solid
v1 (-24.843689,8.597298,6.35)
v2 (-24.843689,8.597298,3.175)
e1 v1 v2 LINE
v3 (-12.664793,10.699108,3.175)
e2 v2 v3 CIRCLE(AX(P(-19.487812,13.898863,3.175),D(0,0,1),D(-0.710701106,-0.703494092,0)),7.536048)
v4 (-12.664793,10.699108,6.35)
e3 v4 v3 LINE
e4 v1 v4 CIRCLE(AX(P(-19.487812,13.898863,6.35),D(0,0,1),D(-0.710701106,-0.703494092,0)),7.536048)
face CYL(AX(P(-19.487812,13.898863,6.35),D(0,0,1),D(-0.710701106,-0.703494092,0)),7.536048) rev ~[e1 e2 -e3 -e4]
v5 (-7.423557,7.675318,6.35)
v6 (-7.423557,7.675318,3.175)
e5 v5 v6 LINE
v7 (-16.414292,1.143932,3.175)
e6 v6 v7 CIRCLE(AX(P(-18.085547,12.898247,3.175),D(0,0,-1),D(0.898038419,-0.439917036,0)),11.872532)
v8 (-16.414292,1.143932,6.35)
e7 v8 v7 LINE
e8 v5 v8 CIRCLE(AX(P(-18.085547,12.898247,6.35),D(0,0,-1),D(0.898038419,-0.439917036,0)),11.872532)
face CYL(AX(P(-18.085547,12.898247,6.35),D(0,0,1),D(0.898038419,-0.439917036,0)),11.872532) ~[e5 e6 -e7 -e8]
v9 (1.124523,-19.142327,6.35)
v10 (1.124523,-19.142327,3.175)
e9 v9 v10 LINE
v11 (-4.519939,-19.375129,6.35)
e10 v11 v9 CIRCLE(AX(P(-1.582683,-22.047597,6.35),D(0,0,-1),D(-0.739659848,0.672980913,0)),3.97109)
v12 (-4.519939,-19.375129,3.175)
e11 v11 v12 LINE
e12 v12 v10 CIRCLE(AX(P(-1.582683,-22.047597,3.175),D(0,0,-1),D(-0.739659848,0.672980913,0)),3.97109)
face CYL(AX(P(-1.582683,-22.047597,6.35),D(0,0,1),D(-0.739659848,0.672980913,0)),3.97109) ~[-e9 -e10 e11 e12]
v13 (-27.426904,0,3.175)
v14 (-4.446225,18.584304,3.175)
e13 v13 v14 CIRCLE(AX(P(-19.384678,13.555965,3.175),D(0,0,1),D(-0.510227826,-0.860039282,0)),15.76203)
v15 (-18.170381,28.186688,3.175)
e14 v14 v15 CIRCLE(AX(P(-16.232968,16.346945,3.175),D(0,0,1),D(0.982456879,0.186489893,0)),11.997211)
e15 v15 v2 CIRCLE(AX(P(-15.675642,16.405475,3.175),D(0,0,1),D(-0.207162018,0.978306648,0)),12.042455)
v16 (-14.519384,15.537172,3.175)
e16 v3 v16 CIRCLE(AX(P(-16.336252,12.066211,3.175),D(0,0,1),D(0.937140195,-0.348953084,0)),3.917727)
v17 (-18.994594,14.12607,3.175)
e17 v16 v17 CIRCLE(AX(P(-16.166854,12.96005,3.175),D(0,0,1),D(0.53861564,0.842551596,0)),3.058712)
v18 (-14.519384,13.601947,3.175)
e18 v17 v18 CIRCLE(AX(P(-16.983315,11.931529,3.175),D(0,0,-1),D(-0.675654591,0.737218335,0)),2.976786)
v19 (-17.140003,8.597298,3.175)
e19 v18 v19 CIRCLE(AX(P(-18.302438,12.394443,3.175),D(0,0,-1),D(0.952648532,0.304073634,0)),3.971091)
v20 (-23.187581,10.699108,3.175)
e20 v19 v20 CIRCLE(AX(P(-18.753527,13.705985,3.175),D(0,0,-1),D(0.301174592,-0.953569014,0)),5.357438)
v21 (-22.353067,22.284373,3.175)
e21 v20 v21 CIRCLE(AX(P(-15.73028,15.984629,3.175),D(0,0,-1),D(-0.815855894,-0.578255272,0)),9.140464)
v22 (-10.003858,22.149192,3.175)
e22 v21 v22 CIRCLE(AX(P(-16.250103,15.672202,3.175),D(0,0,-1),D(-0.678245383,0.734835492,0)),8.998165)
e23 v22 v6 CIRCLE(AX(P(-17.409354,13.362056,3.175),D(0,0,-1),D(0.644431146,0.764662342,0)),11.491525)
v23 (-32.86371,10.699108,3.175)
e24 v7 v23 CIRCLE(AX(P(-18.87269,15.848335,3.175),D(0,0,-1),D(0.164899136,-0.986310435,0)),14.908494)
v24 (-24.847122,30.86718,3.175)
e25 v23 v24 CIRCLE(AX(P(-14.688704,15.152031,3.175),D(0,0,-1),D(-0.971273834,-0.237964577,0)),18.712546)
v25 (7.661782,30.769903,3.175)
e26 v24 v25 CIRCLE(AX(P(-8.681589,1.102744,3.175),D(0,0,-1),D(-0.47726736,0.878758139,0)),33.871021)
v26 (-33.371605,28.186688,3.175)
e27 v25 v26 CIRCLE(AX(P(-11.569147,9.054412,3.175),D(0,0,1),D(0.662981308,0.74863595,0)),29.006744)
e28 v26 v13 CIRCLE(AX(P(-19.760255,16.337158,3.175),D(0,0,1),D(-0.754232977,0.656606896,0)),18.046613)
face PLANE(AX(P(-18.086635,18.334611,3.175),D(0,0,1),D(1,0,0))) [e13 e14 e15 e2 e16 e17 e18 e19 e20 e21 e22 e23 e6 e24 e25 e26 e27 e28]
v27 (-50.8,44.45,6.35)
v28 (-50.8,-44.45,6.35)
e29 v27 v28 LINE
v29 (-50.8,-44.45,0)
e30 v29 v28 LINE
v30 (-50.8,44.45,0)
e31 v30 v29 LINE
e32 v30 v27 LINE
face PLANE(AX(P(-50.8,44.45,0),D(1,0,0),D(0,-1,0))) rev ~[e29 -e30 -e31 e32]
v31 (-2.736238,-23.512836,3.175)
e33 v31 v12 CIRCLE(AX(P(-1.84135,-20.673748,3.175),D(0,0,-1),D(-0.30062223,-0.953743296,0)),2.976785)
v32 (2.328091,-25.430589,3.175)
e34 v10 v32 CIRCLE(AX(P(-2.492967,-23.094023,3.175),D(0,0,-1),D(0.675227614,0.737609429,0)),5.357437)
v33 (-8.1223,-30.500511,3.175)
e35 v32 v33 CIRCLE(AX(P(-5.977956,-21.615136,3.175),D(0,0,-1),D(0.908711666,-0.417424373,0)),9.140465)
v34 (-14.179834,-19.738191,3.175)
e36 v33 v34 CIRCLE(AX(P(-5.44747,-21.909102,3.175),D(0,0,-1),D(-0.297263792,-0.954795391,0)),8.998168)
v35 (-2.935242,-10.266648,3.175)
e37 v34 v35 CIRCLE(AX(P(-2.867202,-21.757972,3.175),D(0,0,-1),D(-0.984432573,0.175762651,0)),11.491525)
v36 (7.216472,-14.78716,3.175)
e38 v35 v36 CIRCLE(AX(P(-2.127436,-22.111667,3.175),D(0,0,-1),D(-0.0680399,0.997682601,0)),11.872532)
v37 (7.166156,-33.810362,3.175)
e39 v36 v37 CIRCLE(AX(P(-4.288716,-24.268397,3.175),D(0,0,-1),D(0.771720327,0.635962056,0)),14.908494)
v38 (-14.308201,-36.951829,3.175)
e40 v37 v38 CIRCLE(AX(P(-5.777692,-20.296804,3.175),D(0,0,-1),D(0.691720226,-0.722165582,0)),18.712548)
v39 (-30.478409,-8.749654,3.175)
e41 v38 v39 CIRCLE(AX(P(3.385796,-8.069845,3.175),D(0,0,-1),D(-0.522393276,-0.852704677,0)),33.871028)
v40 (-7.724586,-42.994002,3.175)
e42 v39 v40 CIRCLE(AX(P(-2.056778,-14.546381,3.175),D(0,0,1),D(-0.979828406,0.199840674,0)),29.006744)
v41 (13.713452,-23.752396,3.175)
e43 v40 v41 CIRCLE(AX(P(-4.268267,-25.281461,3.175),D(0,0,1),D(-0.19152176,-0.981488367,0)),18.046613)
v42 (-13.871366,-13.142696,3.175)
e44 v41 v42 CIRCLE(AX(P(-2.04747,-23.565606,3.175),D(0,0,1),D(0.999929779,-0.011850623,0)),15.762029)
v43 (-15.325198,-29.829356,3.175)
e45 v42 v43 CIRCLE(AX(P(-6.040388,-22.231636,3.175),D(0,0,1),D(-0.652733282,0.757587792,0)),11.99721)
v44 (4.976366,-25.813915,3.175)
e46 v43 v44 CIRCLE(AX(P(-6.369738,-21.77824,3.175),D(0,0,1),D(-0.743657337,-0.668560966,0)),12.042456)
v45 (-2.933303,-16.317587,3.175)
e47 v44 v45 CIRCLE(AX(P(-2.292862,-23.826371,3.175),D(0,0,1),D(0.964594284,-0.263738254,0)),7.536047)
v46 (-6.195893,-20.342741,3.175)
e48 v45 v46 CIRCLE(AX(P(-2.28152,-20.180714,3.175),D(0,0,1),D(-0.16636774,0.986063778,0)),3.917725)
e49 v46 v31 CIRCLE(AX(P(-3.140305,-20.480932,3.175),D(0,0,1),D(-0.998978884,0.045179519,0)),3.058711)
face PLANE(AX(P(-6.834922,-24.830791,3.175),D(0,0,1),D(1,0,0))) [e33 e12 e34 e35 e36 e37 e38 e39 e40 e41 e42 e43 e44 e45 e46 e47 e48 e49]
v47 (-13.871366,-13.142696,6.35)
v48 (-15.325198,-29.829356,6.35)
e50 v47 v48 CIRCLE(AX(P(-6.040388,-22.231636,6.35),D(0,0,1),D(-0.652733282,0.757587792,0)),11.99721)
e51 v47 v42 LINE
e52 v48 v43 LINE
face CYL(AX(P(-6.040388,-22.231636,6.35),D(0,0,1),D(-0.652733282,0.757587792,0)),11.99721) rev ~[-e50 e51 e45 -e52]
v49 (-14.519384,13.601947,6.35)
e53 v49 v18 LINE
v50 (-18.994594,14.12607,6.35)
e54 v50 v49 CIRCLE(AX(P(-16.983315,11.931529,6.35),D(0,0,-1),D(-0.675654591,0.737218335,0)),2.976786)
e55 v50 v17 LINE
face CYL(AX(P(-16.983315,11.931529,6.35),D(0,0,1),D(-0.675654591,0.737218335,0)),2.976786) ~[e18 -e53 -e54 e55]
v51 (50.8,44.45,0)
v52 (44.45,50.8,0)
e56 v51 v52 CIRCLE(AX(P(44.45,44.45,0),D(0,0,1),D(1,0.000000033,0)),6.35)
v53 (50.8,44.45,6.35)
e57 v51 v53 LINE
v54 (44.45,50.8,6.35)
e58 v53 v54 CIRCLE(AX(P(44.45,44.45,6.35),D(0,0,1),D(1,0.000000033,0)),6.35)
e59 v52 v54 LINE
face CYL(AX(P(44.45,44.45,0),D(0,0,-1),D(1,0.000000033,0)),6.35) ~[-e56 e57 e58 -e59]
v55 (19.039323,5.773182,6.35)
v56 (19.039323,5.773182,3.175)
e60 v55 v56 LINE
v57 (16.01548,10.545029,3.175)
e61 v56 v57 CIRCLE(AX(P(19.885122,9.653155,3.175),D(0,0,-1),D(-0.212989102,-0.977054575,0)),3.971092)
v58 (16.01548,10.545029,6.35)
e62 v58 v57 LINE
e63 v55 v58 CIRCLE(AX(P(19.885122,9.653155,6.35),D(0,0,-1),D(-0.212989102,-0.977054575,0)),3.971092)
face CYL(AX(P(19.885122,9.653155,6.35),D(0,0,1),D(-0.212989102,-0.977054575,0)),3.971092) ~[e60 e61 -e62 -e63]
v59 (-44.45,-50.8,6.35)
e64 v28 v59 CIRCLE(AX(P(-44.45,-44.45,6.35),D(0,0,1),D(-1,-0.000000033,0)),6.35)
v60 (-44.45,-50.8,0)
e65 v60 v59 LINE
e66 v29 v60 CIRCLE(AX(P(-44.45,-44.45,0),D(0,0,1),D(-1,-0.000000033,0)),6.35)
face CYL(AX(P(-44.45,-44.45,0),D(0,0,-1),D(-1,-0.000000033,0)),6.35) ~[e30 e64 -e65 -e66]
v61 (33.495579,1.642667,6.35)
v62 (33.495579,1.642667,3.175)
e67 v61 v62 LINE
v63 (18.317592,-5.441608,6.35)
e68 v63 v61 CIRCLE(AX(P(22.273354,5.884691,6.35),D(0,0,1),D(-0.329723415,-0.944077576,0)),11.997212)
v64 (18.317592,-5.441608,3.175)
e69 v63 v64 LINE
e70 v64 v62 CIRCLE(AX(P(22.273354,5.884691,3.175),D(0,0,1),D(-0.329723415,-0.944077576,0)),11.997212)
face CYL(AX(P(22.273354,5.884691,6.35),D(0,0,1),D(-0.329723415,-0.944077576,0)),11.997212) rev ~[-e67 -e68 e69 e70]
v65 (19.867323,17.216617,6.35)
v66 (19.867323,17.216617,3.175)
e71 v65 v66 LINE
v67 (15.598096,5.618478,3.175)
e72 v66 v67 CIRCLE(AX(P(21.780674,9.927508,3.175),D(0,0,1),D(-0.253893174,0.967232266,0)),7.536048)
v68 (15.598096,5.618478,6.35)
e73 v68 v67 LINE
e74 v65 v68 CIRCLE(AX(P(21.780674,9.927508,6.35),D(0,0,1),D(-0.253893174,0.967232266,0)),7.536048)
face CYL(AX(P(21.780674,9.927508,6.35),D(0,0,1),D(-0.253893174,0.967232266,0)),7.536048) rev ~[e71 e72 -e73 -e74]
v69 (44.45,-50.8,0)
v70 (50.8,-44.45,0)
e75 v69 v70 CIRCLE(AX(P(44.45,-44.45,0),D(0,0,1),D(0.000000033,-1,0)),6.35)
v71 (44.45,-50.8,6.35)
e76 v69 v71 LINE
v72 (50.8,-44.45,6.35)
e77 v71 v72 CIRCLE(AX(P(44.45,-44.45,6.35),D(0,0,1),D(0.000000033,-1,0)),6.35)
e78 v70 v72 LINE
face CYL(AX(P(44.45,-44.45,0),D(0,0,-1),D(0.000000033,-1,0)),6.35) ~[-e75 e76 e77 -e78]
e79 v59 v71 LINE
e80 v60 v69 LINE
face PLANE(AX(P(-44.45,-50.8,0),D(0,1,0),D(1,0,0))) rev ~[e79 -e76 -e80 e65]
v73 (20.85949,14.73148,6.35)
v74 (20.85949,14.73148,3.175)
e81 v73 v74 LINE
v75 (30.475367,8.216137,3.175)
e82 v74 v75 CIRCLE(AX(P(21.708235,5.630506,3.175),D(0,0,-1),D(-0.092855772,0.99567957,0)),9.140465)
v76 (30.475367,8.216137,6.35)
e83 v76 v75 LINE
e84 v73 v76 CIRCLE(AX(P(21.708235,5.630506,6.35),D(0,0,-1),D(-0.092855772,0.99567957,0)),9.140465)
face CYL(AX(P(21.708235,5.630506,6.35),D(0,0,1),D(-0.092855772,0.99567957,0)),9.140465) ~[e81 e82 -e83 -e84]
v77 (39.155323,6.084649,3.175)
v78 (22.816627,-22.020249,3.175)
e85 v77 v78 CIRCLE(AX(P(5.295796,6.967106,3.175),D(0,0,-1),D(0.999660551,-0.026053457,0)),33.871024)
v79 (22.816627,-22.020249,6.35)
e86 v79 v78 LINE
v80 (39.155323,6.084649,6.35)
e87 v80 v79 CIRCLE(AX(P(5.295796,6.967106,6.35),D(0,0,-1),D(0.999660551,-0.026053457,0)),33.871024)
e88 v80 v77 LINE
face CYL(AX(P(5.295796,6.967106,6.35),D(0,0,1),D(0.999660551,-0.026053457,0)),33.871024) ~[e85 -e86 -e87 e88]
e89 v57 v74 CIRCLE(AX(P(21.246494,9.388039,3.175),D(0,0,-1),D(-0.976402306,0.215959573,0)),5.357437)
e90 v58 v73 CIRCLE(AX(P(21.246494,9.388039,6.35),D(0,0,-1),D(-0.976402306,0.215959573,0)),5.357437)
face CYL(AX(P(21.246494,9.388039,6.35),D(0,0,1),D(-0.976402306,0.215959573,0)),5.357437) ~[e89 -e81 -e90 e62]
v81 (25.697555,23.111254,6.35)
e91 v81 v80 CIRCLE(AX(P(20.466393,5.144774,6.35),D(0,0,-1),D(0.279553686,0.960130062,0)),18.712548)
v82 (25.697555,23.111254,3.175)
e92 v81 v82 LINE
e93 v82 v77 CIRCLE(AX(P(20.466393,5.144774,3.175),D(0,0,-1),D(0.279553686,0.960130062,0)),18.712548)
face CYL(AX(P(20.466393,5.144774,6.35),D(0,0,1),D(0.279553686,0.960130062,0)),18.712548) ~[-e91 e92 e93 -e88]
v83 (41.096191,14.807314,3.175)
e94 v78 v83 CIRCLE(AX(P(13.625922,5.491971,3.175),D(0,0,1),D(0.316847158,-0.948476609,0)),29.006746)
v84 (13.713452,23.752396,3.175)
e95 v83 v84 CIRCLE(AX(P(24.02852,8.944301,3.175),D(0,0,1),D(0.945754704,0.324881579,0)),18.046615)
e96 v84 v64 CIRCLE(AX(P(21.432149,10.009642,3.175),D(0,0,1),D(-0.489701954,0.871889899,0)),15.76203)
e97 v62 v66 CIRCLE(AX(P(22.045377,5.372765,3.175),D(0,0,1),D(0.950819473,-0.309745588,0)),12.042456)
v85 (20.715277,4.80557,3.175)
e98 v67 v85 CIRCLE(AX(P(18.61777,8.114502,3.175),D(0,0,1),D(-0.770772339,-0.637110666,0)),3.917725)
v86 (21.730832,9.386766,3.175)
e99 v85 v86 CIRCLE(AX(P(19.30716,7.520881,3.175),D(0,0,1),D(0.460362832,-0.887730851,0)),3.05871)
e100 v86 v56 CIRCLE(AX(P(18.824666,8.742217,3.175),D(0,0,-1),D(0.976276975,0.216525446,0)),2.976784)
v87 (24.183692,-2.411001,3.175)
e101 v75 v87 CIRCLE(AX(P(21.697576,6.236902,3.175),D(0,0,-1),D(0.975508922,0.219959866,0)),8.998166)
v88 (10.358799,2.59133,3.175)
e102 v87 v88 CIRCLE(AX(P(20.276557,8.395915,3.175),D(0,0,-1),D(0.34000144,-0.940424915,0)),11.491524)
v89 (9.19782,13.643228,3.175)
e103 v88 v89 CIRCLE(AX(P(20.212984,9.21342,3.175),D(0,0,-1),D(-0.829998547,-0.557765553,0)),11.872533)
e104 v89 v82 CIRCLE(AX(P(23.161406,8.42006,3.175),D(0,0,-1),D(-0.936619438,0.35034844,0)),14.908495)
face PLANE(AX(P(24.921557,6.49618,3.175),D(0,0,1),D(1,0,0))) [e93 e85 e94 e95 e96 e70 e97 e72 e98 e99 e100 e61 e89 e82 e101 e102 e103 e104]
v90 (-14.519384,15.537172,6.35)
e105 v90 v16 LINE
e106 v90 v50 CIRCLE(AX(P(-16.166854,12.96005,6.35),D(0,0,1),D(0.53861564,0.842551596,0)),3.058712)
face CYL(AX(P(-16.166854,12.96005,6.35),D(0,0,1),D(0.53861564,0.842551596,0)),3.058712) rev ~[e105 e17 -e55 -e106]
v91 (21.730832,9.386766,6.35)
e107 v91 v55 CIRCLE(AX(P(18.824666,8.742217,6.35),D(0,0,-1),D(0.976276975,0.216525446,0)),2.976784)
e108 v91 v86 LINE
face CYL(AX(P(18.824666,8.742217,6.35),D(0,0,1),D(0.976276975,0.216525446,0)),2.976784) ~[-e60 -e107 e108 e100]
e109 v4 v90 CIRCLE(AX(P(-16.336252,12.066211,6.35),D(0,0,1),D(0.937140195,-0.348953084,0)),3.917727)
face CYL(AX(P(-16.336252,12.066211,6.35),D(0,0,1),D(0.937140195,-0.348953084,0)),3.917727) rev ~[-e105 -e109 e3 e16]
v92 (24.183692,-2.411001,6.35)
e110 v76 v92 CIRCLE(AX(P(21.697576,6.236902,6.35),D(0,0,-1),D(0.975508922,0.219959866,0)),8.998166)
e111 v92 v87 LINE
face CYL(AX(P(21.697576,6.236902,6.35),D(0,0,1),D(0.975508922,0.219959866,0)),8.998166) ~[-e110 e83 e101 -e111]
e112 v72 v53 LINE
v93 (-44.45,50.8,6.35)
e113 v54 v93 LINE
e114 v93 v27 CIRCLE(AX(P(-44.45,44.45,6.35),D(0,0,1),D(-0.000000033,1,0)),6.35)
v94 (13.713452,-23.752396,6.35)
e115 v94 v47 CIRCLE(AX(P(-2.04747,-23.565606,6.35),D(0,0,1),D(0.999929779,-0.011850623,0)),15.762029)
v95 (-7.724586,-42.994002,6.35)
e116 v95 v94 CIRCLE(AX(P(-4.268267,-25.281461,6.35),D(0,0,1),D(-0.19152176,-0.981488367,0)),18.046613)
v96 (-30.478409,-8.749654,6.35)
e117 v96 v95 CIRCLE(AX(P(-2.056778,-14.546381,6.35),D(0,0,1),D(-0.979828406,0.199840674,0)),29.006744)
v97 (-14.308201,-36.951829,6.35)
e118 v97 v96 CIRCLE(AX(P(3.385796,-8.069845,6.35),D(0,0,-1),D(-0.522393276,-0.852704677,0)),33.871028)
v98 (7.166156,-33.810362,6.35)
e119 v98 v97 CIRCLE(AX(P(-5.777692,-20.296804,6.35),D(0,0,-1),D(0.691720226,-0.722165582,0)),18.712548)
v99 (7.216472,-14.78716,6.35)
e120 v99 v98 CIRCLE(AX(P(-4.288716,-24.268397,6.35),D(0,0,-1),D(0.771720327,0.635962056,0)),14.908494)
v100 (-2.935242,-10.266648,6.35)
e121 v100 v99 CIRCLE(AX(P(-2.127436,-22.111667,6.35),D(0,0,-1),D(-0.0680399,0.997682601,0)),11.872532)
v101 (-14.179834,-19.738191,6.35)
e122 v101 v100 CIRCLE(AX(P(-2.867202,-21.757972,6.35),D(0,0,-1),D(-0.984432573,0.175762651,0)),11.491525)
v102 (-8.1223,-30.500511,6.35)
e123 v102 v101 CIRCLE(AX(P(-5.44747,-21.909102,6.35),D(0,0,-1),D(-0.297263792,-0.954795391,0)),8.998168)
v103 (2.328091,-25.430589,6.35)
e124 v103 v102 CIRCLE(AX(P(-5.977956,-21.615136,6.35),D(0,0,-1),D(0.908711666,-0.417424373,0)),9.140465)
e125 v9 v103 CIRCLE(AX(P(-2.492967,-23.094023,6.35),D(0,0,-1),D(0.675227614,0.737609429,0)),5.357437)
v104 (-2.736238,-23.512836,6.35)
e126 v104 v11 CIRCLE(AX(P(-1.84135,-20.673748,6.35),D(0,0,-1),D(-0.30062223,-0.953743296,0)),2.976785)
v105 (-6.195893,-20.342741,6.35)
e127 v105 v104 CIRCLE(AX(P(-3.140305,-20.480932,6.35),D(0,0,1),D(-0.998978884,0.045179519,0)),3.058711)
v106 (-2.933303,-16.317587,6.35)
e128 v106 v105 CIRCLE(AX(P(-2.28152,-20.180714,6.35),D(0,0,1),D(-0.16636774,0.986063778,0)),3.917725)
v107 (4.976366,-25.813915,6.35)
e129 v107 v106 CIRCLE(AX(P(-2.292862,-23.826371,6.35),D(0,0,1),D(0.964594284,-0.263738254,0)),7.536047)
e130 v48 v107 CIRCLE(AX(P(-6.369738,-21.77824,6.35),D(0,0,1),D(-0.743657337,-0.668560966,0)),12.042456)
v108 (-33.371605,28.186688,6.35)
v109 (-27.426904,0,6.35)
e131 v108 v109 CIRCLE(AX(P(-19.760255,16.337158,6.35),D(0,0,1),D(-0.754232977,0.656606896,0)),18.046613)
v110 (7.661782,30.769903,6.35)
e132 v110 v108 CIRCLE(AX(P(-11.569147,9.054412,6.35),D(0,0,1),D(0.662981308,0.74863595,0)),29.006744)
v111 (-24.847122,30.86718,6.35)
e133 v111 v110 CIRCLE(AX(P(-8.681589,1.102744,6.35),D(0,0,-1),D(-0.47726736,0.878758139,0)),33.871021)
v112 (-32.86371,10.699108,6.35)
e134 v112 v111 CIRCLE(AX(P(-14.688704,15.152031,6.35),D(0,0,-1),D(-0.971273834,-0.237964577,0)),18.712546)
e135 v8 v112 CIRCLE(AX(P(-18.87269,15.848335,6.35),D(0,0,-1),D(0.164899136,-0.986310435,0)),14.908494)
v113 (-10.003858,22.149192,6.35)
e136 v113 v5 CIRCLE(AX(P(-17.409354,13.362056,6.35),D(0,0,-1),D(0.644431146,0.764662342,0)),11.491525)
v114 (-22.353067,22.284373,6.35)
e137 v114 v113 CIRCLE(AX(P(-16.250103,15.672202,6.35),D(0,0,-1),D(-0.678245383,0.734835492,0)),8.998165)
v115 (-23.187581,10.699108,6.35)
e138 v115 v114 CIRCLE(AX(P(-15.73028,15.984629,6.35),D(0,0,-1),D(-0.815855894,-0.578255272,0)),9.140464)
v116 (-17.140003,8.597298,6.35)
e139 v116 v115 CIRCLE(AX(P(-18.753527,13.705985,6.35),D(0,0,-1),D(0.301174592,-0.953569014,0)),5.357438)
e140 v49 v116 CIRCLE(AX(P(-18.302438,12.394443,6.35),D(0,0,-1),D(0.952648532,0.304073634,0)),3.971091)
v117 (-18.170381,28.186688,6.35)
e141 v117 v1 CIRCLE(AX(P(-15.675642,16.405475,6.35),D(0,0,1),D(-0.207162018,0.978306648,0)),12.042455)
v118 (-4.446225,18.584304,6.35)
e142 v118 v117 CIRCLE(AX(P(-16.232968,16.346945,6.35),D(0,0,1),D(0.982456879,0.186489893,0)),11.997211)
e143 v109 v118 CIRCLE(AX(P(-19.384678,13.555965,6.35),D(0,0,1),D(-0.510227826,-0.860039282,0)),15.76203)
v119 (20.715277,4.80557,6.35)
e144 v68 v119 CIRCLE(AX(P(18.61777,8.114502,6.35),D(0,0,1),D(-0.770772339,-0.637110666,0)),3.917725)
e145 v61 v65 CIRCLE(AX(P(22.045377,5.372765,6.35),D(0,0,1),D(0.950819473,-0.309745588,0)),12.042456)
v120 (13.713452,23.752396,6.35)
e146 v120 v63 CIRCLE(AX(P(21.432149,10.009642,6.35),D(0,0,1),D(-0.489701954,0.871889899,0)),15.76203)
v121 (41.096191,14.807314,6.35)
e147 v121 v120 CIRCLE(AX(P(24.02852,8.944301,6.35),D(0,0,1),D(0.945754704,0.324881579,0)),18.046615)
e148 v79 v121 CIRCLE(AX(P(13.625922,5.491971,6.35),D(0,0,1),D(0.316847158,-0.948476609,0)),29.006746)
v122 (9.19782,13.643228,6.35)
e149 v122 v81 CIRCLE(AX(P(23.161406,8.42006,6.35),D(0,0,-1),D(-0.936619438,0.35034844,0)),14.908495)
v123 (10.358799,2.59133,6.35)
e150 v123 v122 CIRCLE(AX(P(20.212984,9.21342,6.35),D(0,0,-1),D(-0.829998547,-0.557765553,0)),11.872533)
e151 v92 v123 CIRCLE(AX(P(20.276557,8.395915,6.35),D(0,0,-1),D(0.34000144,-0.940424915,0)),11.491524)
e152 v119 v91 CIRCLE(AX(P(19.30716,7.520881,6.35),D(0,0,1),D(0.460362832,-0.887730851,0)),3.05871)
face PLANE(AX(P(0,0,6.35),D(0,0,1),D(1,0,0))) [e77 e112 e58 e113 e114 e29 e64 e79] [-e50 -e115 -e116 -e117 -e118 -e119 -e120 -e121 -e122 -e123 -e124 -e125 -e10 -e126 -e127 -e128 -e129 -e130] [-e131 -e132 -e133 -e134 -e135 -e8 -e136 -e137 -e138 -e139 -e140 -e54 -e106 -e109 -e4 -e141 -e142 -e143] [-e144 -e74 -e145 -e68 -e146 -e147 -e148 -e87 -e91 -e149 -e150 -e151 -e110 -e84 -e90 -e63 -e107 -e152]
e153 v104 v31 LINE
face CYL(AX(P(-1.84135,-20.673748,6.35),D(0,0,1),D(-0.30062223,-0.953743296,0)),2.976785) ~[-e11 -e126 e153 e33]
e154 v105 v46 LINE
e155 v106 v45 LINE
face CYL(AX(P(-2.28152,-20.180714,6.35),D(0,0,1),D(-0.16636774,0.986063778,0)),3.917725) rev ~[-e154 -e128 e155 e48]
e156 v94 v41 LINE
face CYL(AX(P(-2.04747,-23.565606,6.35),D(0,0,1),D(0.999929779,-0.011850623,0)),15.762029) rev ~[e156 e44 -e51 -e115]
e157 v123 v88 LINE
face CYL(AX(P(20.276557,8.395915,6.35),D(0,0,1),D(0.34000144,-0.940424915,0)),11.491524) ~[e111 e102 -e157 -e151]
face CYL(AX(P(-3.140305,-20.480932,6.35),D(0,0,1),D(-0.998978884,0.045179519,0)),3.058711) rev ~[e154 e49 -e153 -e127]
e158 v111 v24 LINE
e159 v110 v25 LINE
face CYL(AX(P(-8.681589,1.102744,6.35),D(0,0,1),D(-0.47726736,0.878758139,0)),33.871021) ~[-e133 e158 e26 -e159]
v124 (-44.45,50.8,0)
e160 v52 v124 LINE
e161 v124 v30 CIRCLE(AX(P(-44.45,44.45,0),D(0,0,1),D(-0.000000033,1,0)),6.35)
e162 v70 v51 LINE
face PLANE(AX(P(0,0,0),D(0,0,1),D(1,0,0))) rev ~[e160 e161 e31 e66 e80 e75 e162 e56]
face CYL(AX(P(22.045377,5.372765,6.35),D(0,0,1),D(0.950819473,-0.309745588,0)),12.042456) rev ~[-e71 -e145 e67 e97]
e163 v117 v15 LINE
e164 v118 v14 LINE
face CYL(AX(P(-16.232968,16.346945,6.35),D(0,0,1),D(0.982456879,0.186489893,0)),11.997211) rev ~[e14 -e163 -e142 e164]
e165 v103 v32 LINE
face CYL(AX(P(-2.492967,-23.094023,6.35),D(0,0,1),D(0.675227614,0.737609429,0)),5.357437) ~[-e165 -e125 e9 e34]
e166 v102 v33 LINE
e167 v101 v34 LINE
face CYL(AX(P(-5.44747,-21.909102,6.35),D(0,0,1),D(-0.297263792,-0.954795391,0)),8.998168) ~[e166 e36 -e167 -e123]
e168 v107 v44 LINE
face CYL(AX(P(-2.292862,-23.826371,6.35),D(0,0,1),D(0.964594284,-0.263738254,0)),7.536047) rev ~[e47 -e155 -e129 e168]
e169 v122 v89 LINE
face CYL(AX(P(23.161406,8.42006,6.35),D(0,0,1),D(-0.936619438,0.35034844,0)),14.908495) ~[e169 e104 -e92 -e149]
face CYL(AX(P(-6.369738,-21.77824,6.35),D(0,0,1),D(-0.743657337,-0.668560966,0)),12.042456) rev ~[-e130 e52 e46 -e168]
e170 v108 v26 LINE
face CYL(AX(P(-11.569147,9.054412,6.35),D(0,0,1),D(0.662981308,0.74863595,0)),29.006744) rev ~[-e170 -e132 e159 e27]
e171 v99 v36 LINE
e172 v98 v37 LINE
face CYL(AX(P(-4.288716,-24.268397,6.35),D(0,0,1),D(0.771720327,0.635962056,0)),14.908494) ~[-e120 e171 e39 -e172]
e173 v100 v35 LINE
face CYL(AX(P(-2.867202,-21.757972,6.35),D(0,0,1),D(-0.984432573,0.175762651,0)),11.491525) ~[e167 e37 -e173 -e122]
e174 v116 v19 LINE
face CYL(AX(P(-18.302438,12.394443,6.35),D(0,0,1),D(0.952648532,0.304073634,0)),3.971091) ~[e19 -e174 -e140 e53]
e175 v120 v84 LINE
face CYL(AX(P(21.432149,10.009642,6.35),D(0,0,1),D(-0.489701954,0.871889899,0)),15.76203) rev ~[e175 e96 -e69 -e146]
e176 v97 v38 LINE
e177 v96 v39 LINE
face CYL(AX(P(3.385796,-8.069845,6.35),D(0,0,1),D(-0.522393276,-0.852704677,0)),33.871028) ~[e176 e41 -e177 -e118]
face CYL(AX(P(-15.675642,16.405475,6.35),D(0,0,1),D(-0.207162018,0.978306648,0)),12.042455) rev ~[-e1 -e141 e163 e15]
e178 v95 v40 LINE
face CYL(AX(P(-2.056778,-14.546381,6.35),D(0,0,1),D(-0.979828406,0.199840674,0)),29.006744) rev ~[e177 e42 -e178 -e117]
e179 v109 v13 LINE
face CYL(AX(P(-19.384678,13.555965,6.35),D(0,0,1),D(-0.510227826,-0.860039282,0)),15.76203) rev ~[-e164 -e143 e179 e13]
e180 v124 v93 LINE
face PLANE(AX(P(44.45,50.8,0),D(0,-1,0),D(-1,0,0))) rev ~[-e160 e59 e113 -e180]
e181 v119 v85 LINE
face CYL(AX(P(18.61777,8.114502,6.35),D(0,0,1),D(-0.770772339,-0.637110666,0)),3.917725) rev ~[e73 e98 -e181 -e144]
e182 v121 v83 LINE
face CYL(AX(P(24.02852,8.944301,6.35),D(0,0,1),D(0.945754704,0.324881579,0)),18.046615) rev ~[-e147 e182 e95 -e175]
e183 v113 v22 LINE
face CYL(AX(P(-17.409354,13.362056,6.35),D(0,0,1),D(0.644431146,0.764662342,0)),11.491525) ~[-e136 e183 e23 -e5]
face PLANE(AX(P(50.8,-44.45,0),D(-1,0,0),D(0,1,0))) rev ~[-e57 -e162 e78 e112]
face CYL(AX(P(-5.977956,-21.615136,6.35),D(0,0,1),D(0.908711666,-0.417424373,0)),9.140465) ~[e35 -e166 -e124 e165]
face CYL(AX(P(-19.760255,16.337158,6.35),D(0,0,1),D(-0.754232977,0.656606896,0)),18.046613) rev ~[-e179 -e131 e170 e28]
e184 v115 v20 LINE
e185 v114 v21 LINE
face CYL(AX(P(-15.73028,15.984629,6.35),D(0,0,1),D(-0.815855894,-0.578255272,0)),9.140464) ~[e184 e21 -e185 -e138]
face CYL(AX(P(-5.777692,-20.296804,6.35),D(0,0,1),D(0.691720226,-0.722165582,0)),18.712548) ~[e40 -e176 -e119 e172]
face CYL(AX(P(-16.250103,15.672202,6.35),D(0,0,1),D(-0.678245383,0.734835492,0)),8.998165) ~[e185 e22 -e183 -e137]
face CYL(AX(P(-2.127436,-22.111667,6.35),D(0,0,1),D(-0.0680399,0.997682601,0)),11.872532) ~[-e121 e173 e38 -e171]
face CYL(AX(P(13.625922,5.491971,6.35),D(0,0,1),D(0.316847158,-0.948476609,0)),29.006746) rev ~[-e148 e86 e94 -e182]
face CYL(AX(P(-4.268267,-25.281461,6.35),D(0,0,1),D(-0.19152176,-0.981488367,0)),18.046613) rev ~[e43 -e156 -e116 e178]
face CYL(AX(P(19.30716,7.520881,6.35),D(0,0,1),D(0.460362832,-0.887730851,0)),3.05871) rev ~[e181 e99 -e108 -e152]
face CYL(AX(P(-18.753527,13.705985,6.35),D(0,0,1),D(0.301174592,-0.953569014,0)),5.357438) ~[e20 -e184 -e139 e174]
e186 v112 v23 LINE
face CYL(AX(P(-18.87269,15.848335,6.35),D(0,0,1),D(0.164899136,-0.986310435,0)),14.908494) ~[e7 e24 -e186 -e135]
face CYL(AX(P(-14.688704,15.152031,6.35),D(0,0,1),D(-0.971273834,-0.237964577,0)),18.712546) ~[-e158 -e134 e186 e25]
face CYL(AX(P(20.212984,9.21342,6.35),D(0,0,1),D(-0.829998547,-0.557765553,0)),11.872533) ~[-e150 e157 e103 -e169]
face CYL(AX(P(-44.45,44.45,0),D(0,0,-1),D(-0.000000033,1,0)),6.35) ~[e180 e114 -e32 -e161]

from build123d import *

# Parameters (mm, degrees)
F1_DEPTH = 6.35
F3_DEPTH = 3.175


with BuildPart() as f1:
    # F0 (on Top) → F1 (new body)
    with BuildSketch(Plane.XY):
        with BuildLine():
            Line((44.45, 50.8), (-44.45, 50.8))
            ThreePointArc((-44.45, 50.8), (-48.940128, 48.940128), (-50.8, 44.45))
            Line((-50.8, 44.45), (-50.8, -44.45))
            ThreePointArc((-50.8, -44.45), (-48.940128, -48.940128), (-44.45, -50.8))
            Line((-44.45, -50.8), (44.45, -50.8))
            ThreePointArc((44.45, -50.8), (48.940128, -48.940128), (50.8, -44.45))
            Line((50.8, -44.45), (50.8, 44.45))
            ThreePointArc((50.8, 44.45), (48.940128, 48.940128), (44.45, 50.8))
        make_face()
    extrude(amount=F1_DEPTH)

    # F2 (on face) → F3 (cut)
    with BuildSketch(Plane.XY.offset(6.35)):
        with BuildLine():
            ThreePointArc((-24.847122, 30.86718), (-8.580237, 34.973614), (7.661782, 30.769903))
            ThreePointArc((7.661782, 30.769903), (-13.391629, 38.003846), (-33.371605, 28.186688))
            ThreePointArc((-33.371605, 28.186688), (-37.418416, 12.612971), (-27.426904, 0))
            ThreePointArc((-27.426904, 0), (-9.473393, 1.300027), (-4.446225, 18.584304))
            ThreePointArc((-4.446225, 18.584304), (-9.355194, 26.176966), (-18.170381, 28.186688))
            ThreePointArc((-18.170381, 28.186688), (-27.074817, 20.28871), (-24.843689, 8.597298))
            ThreePointArc((-24.843689, 8.597298), (-18.2062, 6.472593), (-12.664793, 10.699108))
            ThreePointArc((-12.664793, 10.699108), (-12.67809, 13.468506), (-14.519384, 15.537172))
            ThreePointArc((-14.519384, 15.537172), (-17.08667, 15.877181), (-18.994594, 14.12607))
            ThreePointArc((-18.994594, 14.12607), (-16.63705, 14.888107), (-14.519384, 13.601947))
            ThreePointArc((-14.519384, 13.601947), (-14.784471, 10.552305), (-17.140003, 8.597298))
            ThreePointArc((-17.140003, 8.597298), (-20.512291, 8.645462), (-23.187581, 10.699108))
            ThreePointArc((-23.187581, 10.699108), (-24.847122, 16.641338), (-22.353067, 22.284373))
            ThreePointArc((-22.353067, 22.284373), (-16.15161, 24.669828), (-10.003858, 22.149192))
            ThreePointArc((-10.003858, 22.149192), (-6.096197, 15.378887), (-7.423557, 7.675318))
            ThreePointArc((-7.423557, 7.675318), (-11.107583, 3.292778), (-16.414292, 1.143932))
            ThreePointArc((-16.414292, 1.143932), (-26.36106, 2.956962), (-32.86371, 10.699108))
            ThreePointArc((-32.86371, 10.699108), (-32.077882, 22.064039), (-24.847122, 30.86718))
        make_face()
        with BuildLine():
            ThreePointArc((-14.179834, -19.738191), (-10.270408, -12.968905), (-2.935242, -10.266648))
            ThreePointArc((-2.935242, -10.266648), (2.702162, -11.265838), (7.216472, -14.78716))
            ThreePointArc((7.216472, -14.78716), (10.619726, -24.307829), (7.166156, -33.810362))
            ThreePointArc((7.166156, -33.810362), (-3.069077, -38.81228), (-14.308201, -36.951829))
            ThreePointArc((-14.308201, -36.951829), (-25.997919, -24.91751), (-30.478409, -8.749654))
            ThreePointArc((-30.478409, -8.749654), (-26.216482, -30.599414), (-7.724586, -42.994002))
            ThreePointArc((-7.724586, -42.994002), (7.786055, -38.711784), (13.713452, -23.752396))
            ThreePointArc((13.713452, -23.752396), (3.61084, -8.854213), (-13.871366, -13.142696))
            ThreePointArc((-13.871366, -13.142696), (-17.992321, -21.190319), (-15.325198, -29.829356))
            ThreePointArc((-15.325198, -29.829356), (-4.033129, -33.591834), (4.976366, -25.813915))
            ThreePointArc((4.976366, -25.813915), (3.49767, -19.003328), (-2.933303, -16.317587))
            ThreePointArc((-2.933303, -16.317587), (-5.325023, -17.713801), (-6.195893, -20.342741))
            ThreePointArc((-6.195893, -20.342741), (-5.206707, -22.736081), (-2.736238, -23.512836))
            ThreePointArc((-2.736238, -23.512836), (-4.574954, -21.852161), (-4.519939, -19.375129))
            ThreePointArc((-4.519939, -19.375129), (-1.746329, -18.07988), (1.124523, -19.142327))
            ThreePointArc((1.124523, -19.142327), (2.768956, -22.086896), (2.328091, -25.430589))
            ThreePointArc((2.328091, -25.430589), (-1.98826, -29.838908), (-8.1223, -30.500511))
            ThreePointArc((-8.1223, -30.500511), (-13.288892, -26.322619), (-14.179834, -19.738191))
        make_face()
        with BuildLine():
            ThreePointArc((24.183692, -2.411001), (16.366605, -2.409982), (10.358799, 2.59133))
            ThreePointArc((10.358799, 2.59133), (8.405421, 7.97306), (9.19782, 13.643228))
            ThreePointArc((9.19782, 13.643228), (15.741335, 21.350867), (25.697555, 23.111254))
            ThreePointArc((25.697555, 23.111254), (35.146959, 16.748241), (39.155323, 6.084649))
            ThreePointArc((39.155323, 6.084649), (34.578156, -10.056104), (22.816627, -22.020249))
            ThreePointArc((22.816627, -22.020249), (39.60811, -7.404432), (41.096191, 14.807314))
            ThreePointArc((41.096191, 14.807314), (29.632361, 26.098813), (13.713452, 23.752396))
            ThreePointArc((13.713452, 23.752396), (5.862553, 7.554185), (18.317592, -5.441608))
            ThreePointArc((18.317592, -5.441608), (27.347515, -4.986647), (33.495579, 1.642667))
            ThreePointArc((33.495579, 1.642667), (31.107946, 13.303124), (19.867323, 17.216617))
            ThreePointArc((19.867323, 17.216617), (14.70853, 12.530736), (15.598096, 5.618478))
            ThreePointArc((15.598096, 5.618478), (18.003113, 4.245295), (20.715277, 4.80557))
            ThreePointArc((20.715277, 4.80557), (22.293377, 6.8589), (21.730832, 9.386766))
            ThreePointArc((21.730832, 9.386766), (21.212004, 6.964054), (19.039323, 5.773182))
            ThreePointArc((19.039323, 5.773182), (16.5308, 7.527575), (16.01548, 10.545029))
            ThreePointArc((16.01548, 10.545029), (17.743335, 13.441434), (20.85949, 14.73148))
            ThreePointArc((20.85949, 14.73148), (26.835382, 13.19757), (30.475367, 8.216137))
            ThreePointArc((30.475367, 8.216137), (29.440503, 1.652791), (24.183692, -2.411001))
        make_face()
    extrude(amount=-F3_DEPTH, mode=Mode.SUBTRACT)


solid = f1.part
